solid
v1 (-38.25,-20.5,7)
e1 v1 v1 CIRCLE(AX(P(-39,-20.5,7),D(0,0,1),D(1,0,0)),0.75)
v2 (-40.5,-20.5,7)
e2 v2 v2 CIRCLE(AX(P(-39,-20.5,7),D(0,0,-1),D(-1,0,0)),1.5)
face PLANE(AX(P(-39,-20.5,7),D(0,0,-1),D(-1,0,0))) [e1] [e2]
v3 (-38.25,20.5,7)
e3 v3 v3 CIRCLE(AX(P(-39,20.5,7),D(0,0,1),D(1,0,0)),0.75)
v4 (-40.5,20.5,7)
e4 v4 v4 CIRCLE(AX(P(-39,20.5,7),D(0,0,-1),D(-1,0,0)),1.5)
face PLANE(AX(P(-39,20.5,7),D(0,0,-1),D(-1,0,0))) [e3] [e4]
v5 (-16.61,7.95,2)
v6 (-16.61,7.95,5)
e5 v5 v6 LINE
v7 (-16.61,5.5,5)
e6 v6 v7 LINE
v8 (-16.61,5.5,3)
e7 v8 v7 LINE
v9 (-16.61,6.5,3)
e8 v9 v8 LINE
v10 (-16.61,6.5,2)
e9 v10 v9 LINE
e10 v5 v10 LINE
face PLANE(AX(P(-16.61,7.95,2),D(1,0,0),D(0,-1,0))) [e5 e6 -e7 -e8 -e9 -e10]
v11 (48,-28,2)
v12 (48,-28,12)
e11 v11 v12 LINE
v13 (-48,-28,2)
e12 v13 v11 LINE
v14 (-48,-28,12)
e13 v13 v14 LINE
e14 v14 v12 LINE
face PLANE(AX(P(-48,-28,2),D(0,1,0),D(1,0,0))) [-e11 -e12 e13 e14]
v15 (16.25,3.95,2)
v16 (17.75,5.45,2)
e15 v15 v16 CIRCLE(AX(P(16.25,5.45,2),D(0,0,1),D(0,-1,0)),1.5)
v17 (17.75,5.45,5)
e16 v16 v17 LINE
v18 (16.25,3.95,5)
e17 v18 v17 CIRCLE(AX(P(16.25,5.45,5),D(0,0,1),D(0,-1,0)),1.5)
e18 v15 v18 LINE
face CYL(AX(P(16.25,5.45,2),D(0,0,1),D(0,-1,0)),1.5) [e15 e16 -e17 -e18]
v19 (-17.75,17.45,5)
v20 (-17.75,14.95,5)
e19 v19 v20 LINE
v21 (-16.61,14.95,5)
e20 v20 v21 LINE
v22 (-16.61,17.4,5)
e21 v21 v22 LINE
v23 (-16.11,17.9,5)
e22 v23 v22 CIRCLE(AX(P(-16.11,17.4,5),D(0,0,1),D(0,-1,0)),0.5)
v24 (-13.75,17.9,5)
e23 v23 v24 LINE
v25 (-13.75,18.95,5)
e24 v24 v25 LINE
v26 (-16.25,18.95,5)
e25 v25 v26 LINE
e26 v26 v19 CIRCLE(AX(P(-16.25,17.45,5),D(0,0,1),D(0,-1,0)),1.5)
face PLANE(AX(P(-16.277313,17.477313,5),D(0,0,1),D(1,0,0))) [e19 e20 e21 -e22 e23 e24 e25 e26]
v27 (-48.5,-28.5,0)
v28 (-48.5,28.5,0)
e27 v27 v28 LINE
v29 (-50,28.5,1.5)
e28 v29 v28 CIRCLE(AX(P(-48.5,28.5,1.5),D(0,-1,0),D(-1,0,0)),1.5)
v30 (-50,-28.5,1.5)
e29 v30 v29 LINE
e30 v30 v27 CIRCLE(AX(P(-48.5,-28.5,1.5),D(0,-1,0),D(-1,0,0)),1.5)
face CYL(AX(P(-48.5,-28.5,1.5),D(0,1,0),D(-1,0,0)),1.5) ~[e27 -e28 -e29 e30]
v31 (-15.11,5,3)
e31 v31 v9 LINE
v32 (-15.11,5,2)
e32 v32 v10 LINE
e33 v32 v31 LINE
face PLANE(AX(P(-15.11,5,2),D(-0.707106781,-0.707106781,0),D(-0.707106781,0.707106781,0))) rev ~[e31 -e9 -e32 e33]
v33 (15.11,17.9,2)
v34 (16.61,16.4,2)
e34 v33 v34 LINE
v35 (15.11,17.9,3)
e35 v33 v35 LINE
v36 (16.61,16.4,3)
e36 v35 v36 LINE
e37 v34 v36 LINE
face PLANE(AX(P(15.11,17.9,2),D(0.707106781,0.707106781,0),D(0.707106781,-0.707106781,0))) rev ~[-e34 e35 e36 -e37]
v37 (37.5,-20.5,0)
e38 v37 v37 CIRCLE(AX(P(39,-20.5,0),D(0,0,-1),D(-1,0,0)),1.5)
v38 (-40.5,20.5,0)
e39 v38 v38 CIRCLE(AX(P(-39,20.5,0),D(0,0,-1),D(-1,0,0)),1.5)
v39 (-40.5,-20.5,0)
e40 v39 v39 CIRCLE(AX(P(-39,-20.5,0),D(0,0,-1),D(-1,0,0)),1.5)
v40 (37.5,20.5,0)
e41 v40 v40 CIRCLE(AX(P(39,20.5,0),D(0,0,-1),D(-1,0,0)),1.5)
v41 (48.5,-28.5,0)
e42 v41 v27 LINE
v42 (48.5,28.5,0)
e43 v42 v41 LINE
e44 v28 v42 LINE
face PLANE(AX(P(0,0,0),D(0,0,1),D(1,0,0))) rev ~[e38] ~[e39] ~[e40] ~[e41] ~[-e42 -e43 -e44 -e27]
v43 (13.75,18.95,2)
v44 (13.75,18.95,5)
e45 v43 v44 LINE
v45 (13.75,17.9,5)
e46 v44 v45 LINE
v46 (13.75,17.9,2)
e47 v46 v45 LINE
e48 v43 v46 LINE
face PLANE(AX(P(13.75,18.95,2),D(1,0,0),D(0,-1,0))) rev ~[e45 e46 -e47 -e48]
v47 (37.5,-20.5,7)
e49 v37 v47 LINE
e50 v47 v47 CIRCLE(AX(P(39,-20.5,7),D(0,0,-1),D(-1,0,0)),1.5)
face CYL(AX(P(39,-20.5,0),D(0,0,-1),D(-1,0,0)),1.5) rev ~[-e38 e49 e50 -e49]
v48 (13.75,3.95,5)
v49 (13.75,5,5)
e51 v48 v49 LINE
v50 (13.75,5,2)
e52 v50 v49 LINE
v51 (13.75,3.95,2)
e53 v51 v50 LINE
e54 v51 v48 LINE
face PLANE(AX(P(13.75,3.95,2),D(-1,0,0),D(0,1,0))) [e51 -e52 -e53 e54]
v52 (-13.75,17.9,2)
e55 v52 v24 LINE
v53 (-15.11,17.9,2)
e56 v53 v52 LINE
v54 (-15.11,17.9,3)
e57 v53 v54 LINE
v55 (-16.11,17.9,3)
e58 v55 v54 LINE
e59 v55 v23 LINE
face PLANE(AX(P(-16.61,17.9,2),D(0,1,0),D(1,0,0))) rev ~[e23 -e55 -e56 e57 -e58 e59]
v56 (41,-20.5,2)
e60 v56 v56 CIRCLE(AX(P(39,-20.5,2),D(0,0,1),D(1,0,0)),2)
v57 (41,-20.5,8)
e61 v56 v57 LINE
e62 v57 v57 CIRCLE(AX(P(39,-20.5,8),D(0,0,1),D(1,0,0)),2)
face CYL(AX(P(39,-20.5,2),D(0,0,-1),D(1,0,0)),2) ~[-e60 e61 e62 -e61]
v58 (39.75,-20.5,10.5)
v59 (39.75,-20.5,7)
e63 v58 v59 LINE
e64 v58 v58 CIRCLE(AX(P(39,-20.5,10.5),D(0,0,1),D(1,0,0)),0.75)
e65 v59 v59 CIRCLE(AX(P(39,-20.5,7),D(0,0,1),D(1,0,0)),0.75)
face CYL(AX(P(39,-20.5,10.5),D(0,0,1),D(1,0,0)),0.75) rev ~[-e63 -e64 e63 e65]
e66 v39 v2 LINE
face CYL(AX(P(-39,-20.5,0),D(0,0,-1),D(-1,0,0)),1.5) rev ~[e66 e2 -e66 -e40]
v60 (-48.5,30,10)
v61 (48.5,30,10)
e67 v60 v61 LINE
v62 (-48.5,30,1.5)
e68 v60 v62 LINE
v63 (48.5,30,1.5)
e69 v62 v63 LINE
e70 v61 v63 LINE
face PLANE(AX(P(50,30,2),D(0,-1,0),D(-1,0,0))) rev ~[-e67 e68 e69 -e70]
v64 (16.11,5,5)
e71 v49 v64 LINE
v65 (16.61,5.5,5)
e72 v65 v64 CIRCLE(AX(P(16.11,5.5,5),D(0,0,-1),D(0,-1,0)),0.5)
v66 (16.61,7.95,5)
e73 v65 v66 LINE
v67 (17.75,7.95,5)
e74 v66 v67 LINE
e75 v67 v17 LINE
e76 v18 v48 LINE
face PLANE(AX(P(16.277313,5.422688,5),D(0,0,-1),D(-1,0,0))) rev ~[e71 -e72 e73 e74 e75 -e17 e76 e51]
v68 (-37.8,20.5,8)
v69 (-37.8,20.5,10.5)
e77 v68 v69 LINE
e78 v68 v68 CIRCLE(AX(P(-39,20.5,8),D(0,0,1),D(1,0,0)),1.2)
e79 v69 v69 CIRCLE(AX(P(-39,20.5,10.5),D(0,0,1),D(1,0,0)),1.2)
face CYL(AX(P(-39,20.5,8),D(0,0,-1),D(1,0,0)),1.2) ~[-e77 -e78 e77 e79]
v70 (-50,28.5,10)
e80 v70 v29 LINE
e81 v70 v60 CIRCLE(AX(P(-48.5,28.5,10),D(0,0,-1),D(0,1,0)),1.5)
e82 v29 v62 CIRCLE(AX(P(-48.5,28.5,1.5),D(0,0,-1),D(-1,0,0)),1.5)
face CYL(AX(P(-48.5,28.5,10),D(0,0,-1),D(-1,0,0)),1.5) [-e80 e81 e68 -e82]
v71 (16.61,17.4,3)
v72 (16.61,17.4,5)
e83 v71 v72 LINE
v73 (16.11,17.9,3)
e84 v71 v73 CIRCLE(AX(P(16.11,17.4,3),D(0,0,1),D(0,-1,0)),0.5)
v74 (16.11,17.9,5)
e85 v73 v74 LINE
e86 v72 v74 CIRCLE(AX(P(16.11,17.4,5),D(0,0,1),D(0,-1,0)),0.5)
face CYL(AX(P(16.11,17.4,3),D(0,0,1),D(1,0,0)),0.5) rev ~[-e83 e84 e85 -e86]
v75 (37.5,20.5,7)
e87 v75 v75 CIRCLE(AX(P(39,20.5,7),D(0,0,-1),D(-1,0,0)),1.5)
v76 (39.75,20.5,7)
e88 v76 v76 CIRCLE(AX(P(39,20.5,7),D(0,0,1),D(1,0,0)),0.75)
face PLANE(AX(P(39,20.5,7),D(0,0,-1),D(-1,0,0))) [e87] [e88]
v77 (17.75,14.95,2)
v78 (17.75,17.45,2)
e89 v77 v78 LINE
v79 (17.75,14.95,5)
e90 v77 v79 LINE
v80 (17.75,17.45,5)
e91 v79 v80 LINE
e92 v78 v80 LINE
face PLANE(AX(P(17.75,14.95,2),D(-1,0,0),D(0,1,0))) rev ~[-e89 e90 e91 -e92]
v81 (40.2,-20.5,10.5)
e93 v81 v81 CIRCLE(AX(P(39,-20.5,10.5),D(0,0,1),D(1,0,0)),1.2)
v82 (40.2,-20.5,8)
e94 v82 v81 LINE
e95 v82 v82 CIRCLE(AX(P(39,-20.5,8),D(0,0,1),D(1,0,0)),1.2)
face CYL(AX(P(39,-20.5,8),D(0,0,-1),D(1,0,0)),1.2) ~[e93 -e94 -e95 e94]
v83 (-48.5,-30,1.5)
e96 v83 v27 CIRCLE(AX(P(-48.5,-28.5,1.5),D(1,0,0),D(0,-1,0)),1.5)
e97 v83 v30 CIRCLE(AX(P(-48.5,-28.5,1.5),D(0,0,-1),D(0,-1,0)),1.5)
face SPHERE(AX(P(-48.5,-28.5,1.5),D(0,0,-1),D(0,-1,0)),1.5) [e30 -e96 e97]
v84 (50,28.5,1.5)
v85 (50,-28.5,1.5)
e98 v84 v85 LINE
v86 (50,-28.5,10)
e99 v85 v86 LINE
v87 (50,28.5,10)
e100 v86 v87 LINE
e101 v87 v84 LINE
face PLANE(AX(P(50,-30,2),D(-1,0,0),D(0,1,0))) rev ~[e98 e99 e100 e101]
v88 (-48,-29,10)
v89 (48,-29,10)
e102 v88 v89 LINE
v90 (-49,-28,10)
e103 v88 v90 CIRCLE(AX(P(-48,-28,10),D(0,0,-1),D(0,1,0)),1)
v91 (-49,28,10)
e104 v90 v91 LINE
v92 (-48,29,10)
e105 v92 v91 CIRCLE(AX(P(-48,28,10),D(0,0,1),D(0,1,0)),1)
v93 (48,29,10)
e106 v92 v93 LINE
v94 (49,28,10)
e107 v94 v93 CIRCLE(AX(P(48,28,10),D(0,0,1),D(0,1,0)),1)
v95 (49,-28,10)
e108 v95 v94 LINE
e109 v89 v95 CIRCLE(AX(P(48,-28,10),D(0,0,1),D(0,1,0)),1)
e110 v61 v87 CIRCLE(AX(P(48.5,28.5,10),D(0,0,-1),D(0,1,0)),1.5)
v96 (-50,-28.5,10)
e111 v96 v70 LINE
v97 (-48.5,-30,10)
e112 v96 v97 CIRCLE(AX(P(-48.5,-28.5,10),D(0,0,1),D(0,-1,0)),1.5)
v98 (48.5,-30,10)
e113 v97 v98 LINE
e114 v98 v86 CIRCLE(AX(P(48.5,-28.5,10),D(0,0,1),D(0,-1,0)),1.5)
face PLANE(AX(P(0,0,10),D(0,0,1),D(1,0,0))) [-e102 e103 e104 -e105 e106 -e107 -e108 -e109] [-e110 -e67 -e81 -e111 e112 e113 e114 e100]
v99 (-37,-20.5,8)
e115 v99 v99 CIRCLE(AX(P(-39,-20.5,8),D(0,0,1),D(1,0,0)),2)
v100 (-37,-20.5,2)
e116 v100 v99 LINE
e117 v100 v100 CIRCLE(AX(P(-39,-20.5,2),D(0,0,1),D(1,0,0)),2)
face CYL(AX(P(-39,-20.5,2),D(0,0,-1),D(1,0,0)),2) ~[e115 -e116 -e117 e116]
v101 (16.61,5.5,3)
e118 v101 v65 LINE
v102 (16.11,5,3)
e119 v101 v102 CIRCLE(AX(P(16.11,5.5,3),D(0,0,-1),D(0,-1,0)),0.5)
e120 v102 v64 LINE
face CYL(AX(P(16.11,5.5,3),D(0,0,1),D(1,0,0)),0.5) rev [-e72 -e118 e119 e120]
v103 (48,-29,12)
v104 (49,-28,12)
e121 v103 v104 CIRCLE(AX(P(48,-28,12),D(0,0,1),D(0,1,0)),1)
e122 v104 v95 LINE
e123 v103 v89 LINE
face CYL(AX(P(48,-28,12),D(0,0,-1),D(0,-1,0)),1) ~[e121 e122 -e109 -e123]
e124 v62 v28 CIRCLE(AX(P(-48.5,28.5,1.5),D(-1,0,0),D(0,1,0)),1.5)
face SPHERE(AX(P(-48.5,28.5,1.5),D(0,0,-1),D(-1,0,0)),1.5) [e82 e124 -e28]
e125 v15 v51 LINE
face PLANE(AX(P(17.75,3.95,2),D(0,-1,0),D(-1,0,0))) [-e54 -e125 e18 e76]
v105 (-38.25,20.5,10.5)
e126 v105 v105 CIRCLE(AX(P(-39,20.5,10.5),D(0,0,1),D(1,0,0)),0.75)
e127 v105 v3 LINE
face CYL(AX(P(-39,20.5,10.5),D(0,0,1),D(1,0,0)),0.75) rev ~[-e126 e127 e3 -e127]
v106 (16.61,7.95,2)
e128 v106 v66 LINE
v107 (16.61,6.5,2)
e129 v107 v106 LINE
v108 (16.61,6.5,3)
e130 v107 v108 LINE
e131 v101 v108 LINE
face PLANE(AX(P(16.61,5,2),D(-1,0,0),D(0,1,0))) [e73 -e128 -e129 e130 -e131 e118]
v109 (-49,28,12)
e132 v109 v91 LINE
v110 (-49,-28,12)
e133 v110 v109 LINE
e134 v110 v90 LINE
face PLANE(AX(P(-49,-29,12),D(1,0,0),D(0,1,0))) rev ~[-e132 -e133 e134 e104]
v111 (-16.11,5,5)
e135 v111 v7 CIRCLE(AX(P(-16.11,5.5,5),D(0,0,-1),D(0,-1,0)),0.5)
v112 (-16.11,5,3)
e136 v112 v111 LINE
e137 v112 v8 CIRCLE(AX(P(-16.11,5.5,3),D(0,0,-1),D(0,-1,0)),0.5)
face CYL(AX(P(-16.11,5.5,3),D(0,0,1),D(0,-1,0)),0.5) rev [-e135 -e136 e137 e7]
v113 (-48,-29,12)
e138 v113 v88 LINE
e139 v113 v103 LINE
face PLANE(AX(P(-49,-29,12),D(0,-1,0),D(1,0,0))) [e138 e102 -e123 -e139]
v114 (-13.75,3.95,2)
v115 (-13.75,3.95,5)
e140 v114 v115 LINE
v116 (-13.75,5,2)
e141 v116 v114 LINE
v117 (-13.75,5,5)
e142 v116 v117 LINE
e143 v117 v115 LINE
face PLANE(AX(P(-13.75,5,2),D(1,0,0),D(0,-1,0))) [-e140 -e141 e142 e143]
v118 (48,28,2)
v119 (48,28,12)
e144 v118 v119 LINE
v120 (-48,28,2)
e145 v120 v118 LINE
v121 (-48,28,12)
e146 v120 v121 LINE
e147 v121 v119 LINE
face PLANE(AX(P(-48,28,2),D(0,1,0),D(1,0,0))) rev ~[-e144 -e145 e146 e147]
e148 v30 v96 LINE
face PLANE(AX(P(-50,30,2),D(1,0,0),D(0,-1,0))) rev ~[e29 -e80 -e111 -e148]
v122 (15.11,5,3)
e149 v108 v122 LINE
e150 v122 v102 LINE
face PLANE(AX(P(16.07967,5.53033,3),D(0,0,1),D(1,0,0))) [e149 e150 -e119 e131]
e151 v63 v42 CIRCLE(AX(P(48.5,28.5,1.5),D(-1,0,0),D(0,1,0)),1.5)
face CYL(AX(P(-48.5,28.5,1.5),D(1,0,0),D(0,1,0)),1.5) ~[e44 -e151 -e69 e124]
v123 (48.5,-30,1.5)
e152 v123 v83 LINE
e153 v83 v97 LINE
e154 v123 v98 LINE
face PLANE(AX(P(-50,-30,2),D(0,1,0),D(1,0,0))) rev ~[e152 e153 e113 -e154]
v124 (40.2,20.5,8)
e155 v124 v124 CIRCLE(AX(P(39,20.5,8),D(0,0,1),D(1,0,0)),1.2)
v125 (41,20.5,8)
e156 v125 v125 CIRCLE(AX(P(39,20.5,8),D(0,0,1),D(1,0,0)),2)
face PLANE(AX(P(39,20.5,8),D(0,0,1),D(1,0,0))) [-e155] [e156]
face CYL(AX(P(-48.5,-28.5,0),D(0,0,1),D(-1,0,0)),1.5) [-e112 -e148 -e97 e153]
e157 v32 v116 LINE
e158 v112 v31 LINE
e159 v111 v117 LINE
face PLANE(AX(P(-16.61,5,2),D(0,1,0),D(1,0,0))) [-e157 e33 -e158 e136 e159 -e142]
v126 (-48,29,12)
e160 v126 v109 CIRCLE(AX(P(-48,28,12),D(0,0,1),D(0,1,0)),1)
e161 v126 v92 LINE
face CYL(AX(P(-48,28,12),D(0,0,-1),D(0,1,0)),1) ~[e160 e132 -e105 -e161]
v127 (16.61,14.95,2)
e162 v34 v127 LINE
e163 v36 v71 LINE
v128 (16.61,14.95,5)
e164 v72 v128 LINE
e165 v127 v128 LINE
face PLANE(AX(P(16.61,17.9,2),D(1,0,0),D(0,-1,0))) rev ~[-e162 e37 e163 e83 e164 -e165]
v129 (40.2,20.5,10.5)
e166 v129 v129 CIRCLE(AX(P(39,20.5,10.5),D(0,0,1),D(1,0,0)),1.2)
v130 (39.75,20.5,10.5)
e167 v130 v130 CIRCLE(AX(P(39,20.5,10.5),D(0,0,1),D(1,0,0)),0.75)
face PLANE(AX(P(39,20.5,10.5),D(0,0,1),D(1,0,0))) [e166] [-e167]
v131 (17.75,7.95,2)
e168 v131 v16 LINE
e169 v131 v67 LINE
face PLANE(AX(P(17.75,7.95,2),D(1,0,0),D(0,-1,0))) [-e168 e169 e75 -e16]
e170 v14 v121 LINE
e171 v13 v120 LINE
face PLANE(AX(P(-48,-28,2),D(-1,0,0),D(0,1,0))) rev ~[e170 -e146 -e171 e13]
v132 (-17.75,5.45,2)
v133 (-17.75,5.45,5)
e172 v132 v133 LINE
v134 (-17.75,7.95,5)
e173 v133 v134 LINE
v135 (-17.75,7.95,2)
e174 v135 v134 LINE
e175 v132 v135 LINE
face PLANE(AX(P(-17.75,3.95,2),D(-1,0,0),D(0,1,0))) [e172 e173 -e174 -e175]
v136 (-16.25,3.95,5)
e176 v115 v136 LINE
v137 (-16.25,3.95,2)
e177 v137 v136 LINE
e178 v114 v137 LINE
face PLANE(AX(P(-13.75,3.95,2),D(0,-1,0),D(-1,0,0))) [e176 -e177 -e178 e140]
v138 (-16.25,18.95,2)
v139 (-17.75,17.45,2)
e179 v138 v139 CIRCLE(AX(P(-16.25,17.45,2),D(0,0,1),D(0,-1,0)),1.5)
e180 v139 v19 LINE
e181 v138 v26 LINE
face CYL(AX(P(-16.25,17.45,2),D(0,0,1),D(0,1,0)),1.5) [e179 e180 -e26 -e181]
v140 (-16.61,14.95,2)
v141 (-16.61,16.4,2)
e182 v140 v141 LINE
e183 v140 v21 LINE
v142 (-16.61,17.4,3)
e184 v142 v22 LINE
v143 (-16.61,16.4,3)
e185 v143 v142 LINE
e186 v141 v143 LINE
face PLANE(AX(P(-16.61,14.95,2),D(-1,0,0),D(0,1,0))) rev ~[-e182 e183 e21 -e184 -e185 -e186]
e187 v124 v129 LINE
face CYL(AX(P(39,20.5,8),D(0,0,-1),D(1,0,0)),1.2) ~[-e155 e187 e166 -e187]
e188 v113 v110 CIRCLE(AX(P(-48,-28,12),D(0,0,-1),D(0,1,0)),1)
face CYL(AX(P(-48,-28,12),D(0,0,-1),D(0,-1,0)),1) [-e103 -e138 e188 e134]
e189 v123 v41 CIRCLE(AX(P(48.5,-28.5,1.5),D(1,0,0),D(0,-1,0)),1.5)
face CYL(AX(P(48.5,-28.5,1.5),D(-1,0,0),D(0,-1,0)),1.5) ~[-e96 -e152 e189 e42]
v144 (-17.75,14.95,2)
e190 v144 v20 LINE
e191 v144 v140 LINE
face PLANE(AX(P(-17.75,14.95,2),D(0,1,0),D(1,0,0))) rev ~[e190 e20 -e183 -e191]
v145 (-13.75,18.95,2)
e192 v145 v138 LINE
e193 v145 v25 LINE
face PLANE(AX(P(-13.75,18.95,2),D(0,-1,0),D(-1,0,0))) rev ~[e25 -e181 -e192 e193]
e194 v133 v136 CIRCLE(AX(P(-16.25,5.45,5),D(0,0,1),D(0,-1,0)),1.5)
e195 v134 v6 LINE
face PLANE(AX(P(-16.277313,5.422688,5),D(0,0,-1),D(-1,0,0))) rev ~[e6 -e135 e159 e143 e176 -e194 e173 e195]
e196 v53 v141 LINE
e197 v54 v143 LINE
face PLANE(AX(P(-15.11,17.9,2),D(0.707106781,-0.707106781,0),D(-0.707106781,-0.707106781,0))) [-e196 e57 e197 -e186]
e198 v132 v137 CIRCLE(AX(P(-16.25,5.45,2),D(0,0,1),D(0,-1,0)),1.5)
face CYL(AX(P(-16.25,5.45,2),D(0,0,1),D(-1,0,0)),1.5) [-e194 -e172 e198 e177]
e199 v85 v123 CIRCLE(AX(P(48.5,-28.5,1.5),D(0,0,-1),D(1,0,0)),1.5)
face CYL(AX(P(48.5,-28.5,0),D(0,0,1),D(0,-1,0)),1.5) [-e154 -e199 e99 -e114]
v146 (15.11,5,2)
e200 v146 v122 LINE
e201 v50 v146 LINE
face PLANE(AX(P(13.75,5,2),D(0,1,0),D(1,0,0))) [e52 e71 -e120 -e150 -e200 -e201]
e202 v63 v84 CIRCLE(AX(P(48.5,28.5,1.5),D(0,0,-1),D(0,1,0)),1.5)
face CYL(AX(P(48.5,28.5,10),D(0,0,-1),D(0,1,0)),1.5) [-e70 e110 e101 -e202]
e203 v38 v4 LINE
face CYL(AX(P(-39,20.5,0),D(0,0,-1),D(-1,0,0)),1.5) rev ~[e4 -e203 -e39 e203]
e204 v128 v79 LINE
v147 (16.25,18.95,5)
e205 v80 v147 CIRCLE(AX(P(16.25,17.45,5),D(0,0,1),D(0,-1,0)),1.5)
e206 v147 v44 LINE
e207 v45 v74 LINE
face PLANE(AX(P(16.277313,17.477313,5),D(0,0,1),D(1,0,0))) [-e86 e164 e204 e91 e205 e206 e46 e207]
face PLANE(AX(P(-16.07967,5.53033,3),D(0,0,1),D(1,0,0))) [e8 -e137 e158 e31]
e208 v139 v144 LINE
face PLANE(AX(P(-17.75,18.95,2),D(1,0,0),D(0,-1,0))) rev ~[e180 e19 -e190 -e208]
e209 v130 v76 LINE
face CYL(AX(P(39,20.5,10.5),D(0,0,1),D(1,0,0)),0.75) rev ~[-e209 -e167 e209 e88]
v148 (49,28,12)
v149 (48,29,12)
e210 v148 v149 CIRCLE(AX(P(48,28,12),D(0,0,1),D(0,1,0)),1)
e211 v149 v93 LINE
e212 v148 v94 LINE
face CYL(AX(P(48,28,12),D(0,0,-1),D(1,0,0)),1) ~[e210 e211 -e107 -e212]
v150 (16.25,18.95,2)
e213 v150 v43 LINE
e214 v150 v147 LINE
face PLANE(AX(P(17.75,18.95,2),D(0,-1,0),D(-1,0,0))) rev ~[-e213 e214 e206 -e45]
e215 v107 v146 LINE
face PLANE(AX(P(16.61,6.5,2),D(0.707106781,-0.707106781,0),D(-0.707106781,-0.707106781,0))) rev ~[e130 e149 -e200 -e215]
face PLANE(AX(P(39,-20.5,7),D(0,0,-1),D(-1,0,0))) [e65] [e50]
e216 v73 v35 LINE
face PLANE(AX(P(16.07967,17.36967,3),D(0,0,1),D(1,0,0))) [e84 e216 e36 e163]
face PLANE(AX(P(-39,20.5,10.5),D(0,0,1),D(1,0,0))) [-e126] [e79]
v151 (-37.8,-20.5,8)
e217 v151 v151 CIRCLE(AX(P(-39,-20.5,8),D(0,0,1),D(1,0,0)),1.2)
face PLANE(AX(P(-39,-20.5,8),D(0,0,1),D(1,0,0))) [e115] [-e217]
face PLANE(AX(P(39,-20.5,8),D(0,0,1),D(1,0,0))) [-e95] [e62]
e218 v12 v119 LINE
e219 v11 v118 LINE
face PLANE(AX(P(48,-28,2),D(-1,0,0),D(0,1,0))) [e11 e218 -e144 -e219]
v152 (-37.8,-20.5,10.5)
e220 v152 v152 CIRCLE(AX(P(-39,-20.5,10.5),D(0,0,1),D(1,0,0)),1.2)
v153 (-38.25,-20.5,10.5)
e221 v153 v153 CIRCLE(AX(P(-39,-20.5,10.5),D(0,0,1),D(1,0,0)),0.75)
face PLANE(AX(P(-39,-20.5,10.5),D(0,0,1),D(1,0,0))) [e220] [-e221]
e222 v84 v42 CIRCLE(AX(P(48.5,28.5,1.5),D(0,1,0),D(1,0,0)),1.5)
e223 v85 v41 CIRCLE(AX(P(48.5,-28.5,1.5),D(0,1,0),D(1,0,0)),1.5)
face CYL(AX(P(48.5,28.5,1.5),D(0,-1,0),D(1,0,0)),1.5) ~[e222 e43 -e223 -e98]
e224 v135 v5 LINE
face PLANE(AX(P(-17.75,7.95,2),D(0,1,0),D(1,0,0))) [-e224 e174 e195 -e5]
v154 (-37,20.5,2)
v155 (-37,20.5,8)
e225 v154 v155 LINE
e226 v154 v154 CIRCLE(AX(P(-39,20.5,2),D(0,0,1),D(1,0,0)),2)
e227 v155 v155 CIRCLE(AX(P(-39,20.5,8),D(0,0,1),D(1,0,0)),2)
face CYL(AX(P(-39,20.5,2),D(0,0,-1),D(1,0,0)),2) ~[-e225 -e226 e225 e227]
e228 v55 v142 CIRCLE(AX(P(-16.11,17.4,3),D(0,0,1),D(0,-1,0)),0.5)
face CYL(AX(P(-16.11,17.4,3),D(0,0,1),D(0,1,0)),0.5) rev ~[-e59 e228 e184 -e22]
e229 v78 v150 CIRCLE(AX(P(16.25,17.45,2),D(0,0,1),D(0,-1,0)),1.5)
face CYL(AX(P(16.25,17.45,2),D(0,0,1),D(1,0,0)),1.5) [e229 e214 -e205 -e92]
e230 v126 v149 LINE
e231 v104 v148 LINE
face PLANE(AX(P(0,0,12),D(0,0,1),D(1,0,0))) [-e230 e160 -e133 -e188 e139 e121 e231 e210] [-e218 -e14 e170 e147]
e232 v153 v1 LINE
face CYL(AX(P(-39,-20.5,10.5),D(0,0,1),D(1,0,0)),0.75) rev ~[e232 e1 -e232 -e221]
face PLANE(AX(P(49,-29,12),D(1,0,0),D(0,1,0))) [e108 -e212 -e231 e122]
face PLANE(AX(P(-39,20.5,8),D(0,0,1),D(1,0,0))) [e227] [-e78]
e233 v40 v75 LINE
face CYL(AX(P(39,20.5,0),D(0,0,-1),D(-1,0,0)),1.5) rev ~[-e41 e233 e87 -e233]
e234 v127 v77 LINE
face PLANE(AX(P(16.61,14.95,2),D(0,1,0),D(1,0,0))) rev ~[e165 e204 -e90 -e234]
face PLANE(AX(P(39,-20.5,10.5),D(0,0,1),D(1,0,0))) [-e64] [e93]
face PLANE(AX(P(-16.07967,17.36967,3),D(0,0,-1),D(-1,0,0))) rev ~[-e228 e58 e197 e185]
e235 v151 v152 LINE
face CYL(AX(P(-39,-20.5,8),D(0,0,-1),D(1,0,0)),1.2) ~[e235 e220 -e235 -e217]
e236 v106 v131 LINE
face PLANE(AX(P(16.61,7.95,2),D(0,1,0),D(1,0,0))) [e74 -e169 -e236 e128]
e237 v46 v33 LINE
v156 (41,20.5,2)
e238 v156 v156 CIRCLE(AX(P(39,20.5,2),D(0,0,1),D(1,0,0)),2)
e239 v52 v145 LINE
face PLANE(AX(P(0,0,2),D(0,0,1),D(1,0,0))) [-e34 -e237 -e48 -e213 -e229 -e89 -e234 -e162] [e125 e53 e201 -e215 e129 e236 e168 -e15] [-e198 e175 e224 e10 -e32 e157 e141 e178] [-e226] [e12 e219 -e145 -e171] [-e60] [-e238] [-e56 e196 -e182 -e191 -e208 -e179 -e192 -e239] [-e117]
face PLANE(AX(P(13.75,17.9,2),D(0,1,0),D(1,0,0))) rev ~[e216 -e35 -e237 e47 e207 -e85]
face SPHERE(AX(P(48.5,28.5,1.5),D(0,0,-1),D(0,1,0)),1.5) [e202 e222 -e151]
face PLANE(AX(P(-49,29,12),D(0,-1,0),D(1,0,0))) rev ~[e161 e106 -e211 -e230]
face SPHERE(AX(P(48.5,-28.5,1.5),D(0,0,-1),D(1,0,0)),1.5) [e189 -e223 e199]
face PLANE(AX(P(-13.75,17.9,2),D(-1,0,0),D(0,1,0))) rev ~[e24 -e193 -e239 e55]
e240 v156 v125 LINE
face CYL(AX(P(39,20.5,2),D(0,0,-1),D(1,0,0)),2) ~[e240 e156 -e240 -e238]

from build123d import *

# Parameters (mm, degrees)
SKETCH_1_W                  = 100
SKETCH_1_H                  = 60
EXTRUDE_1_DEPTH             = 2
SKETCH_2_W                  = 96
SKETCH_2_H                  = 56
EXTRUDE_2_DEPTH             = 10
SKETCH_3_W                  = 100
SKETCH_3_H                  = 60
SKETCH_3_W_2                = 98
SKETCH_3_H_2                = 58
CUT_EXTRUDE_1_DEPTH         = 2
EXTRUDE_3_DEPTH             = 3
EXTRUDE_4_DEPTH             = 1
FILLET_1_R                  = 0.5
FILLET_2_R                  = 1.5
SKETCH_6_R                  = 2
EXTRUDE_5_DEPTH             = 6
SKETCH_7_R                  = 1.2
EXTRUDE_6_DEPTH             = 2.5
SKETCH_8_R                  = 0.75
CUT_EXTRUDE_2_DEPTH         = 12.5
FILLET_3_R                  = 1.5
FILLET_4_R                  = 1.5
FILLET_5_R                  = 1
SKETCH_9_R                  = 1.5
CUT_EXTRUDE_3_DEPTH         = 7
PATTERN_LINEAR_1_COUNT      = 2
PATTERN_LINEAR_1_PITCH      = 78
PATTERN_LINEAR_1_COUNT_DIR2 = 2
PATTERN_LINEAR_1_PITCH_DIR2 = 41


with BuildPart() as part:
    # 草图1 → 凸台-拉伸1 (new body)
    with BuildSketch(Plane.XY):
        Rectangle(SKETCH_1_W, SKETCH_1_H)
    extrude(amount=EXTRUDE_1_DEPTH)

    # 草图2 → 凸台-拉伸2 (add)
    with BuildSketch(Plane.XY.offset(2)):
        Polygon((-47, 30), (-50, 30), (-50, 27), (-50, -27), (-50, -30), (-47, -30), (47, -30), (50, -30), (50, -27), (50, 27), (50, 30), (47, 30), align=None)
        Rectangle(SKETCH_2_W, SKETCH_2_H, mode=Mode.SUBTRACT)
    extrude(amount=EXTRUDE_2_DEPTH)

    # 草图3 → 切除-拉伸1 (cut)
    with BuildSketch(Plane.XY.offset(12)):
        Rectangle(SKETCH_3_W, SKETCH_3_H)
        Rectangle(SKETCH_3_W_2, SKETCH_3_H_2, mode=Mode.SUBTRACT)
    extrude(amount=-CUT_EXTRUDE_1_DEPTH, mode=Mode.SUBTRACT)

    # 草图4 → 凸台-拉伸3 (add)
    with BuildSketch(Plane.XY.offset(2)):
        Polygon((-16.61, 17.9), (-13.75, 17.9), (-13.75, 18.95), (-17.75, 18.95), (-17.75, 14.95), (-16.61, 14.95), align=None)
        Polygon((-16.61, 5), (-13.75, 5), (-13.75, 3.95), (-17.75, 3.95), (-17.75, 7.95), (-16.61, 7.95), align=None)
        Polygon((16.61, 17.9), (16.61, 14.95), (17.75, 14.95), (17.75, 18.95), (13.75, 18.95), (13.75, 17.9), align=None)
        Polygon((17.75, 3.95), (13.75, 3.95), (13.75, 5), (16.61, 5), (16.61, 7.95), (17.75, 7.95), align=None)
    extrude(amount=EXTRUDE_3_DEPTH)

    # 草图5 → 凸台-拉伸4 (add)
    with BuildSketch(Plane.XY.offset(2)):
        Polygon((-16.61, 17.9), (-15.11, 17.9), (-16.61, 16.4), align=None)
        Polygon((16.61, 17.9), (15.11, 17.9), (16.61, 16.4), align=None)
        Polygon((16.61, 5), (16.61, 6.5), (15.11, 5), align=None)
        Polygon((-16.61, 5), (-15.11, 5), (-16.61, 6.5), align=None)
    extrude(amount=EXTRUDE_4_DEPTH)

    # 圆角1
    fillet_1_edges = [part.edges().sort_by_distance(p)[0] for p in [
        (-16.61, 5, 4),
        (16.61, 17.9, 4),
        (-16.61, 17.9, 4),
        (16.61, 5, 4),
    ]]
    fillet(fillet_1_edges, radius=FILLET_1_R)

    # 圆角2
    fillet_2_edges = [part.edges().sort_by_distance(p)[0] for p in [
        (-17.75, 3.95, 3.5),
        (17.75, 18.95, 3.5),
        (-17.75, 18.95, 3.5),
        (17.75, 3.95, 3.5),
    ]]
    fillet(fillet_2_edges, radius=FILLET_2_R)

    # 草图6 → 凸台-拉伸5 (add)
    with BuildSketch(Plane.XY.offset(2)):
        with Locations((-39, 20.5)):
            Circle(SKETCH_6_R)
        with Locations((39, 20.5)):
            Circle(SKETCH_6_R)
        with Locations((39, -20.5)):
            Circle(SKETCH_6_R)
        with Locations((-39, -20.5)):
            Circle(SKETCH_6_R)
    extrude(amount=EXTRUDE_5_DEPTH)

    # 草图7 → 凸台-拉伸6 (add)
    with BuildSketch(Plane.XY.offset(8)):
        with Locations((-39, 20.5)):
            Circle(SKETCH_7_R)
        with Locations((39, 20.5)):
            Circle(SKETCH_7_R)
        with Locations((39, -20.5)):
            Circle(SKETCH_7_R)
        with Locations((-39, -20.5)):
            Circle(SKETCH_7_R)
    extrude(amount=EXTRUDE_6_DEPTH)

    # 草图8 → 切除-拉伸2 (cut)
    with BuildSketch(Plane.XY.offset(10.5)):
        with Locations((-39, 20.5)):
            Circle(SKETCH_8_R)
        with Locations((-39, -20.5)):
            Circle(SKETCH_8_R)
        with Locations((39, -20.5)):
            Circle(SKETCH_8_R)
        with Locations((39, 20.5)):
            Circle(SKETCH_8_R)
    extrude(amount=-CUT_EXTRUDE_2_DEPTH, mode=Mode.SUBTRACT)

    # 圆角3
    fillet_3_edges = [part.edges().sort_by_distance(p)[0] for p in [
        (-50, 30, 5),
        (50, 30, 5),
        (50, -30, 5),
        (-50, -30, 5),
    ]]
    fillet(fillet_3_edges, radius=FILLET_3_R)

    # 圆角4
    fillet_4_edges = [part.edges().sort_by_distance(p)[0] for p in [
        (0, 30, 0),
        (-50, 0, 0),
        (50, 0, 0),
        (0, -30, 0),
        (-49.560660172, 29.560660172, 0),
        (-49.560660172, -29.560660172, 0),
        (49.560660172, -29.560660172, 0),
        (49.560660172, 29.560660172, 0),
    ]]
    fillet(fillet_4_edges, radius=FILLET_4_R)

    # 圆角5
    fillet_5_edges = [part.edges().sort_by_distance(p)[0] for p in [
        (-49, 29, 11),
        (49, 29, 11),
        (49, -29, 11),
        (-49, -29, 11),
    ]]
    fillet(fillet_5_edges, radius=FILLET_5_R)

    # 草图9 → 切除-拉伸3 (cut)
    with BuildSketch(Plane(origin=(0, 0, 0), x_dir=(-1, 0, 0), z_dir=(0, 0, -1))):
        with Locations((-39, 20.5)):
            Circle(SKETCH_9_R)
    cut_extrude_3 = extrude(amount=-CUT_EXTRUDE_3_DEPTH, mode=Mode.SUBTRACT)

    # 阵列(线性)1: Cut-Extrude 3 2 × 2
    with Locations(*[(-i * PATTERN_LINEAR_1_PITCH, -j * PATTERN_LINEAR_1_PITCH_DIR2, 0) for i in range(PATTERN_LINEAR_1_COUNT) for j in range(PATTERN_LINEAR_1_COUNT_DIR2) if (i, j) != (0, 0)]):
        add(cut_extrude_3, mode=Mode.SUBTRACT)


solid = part.part
